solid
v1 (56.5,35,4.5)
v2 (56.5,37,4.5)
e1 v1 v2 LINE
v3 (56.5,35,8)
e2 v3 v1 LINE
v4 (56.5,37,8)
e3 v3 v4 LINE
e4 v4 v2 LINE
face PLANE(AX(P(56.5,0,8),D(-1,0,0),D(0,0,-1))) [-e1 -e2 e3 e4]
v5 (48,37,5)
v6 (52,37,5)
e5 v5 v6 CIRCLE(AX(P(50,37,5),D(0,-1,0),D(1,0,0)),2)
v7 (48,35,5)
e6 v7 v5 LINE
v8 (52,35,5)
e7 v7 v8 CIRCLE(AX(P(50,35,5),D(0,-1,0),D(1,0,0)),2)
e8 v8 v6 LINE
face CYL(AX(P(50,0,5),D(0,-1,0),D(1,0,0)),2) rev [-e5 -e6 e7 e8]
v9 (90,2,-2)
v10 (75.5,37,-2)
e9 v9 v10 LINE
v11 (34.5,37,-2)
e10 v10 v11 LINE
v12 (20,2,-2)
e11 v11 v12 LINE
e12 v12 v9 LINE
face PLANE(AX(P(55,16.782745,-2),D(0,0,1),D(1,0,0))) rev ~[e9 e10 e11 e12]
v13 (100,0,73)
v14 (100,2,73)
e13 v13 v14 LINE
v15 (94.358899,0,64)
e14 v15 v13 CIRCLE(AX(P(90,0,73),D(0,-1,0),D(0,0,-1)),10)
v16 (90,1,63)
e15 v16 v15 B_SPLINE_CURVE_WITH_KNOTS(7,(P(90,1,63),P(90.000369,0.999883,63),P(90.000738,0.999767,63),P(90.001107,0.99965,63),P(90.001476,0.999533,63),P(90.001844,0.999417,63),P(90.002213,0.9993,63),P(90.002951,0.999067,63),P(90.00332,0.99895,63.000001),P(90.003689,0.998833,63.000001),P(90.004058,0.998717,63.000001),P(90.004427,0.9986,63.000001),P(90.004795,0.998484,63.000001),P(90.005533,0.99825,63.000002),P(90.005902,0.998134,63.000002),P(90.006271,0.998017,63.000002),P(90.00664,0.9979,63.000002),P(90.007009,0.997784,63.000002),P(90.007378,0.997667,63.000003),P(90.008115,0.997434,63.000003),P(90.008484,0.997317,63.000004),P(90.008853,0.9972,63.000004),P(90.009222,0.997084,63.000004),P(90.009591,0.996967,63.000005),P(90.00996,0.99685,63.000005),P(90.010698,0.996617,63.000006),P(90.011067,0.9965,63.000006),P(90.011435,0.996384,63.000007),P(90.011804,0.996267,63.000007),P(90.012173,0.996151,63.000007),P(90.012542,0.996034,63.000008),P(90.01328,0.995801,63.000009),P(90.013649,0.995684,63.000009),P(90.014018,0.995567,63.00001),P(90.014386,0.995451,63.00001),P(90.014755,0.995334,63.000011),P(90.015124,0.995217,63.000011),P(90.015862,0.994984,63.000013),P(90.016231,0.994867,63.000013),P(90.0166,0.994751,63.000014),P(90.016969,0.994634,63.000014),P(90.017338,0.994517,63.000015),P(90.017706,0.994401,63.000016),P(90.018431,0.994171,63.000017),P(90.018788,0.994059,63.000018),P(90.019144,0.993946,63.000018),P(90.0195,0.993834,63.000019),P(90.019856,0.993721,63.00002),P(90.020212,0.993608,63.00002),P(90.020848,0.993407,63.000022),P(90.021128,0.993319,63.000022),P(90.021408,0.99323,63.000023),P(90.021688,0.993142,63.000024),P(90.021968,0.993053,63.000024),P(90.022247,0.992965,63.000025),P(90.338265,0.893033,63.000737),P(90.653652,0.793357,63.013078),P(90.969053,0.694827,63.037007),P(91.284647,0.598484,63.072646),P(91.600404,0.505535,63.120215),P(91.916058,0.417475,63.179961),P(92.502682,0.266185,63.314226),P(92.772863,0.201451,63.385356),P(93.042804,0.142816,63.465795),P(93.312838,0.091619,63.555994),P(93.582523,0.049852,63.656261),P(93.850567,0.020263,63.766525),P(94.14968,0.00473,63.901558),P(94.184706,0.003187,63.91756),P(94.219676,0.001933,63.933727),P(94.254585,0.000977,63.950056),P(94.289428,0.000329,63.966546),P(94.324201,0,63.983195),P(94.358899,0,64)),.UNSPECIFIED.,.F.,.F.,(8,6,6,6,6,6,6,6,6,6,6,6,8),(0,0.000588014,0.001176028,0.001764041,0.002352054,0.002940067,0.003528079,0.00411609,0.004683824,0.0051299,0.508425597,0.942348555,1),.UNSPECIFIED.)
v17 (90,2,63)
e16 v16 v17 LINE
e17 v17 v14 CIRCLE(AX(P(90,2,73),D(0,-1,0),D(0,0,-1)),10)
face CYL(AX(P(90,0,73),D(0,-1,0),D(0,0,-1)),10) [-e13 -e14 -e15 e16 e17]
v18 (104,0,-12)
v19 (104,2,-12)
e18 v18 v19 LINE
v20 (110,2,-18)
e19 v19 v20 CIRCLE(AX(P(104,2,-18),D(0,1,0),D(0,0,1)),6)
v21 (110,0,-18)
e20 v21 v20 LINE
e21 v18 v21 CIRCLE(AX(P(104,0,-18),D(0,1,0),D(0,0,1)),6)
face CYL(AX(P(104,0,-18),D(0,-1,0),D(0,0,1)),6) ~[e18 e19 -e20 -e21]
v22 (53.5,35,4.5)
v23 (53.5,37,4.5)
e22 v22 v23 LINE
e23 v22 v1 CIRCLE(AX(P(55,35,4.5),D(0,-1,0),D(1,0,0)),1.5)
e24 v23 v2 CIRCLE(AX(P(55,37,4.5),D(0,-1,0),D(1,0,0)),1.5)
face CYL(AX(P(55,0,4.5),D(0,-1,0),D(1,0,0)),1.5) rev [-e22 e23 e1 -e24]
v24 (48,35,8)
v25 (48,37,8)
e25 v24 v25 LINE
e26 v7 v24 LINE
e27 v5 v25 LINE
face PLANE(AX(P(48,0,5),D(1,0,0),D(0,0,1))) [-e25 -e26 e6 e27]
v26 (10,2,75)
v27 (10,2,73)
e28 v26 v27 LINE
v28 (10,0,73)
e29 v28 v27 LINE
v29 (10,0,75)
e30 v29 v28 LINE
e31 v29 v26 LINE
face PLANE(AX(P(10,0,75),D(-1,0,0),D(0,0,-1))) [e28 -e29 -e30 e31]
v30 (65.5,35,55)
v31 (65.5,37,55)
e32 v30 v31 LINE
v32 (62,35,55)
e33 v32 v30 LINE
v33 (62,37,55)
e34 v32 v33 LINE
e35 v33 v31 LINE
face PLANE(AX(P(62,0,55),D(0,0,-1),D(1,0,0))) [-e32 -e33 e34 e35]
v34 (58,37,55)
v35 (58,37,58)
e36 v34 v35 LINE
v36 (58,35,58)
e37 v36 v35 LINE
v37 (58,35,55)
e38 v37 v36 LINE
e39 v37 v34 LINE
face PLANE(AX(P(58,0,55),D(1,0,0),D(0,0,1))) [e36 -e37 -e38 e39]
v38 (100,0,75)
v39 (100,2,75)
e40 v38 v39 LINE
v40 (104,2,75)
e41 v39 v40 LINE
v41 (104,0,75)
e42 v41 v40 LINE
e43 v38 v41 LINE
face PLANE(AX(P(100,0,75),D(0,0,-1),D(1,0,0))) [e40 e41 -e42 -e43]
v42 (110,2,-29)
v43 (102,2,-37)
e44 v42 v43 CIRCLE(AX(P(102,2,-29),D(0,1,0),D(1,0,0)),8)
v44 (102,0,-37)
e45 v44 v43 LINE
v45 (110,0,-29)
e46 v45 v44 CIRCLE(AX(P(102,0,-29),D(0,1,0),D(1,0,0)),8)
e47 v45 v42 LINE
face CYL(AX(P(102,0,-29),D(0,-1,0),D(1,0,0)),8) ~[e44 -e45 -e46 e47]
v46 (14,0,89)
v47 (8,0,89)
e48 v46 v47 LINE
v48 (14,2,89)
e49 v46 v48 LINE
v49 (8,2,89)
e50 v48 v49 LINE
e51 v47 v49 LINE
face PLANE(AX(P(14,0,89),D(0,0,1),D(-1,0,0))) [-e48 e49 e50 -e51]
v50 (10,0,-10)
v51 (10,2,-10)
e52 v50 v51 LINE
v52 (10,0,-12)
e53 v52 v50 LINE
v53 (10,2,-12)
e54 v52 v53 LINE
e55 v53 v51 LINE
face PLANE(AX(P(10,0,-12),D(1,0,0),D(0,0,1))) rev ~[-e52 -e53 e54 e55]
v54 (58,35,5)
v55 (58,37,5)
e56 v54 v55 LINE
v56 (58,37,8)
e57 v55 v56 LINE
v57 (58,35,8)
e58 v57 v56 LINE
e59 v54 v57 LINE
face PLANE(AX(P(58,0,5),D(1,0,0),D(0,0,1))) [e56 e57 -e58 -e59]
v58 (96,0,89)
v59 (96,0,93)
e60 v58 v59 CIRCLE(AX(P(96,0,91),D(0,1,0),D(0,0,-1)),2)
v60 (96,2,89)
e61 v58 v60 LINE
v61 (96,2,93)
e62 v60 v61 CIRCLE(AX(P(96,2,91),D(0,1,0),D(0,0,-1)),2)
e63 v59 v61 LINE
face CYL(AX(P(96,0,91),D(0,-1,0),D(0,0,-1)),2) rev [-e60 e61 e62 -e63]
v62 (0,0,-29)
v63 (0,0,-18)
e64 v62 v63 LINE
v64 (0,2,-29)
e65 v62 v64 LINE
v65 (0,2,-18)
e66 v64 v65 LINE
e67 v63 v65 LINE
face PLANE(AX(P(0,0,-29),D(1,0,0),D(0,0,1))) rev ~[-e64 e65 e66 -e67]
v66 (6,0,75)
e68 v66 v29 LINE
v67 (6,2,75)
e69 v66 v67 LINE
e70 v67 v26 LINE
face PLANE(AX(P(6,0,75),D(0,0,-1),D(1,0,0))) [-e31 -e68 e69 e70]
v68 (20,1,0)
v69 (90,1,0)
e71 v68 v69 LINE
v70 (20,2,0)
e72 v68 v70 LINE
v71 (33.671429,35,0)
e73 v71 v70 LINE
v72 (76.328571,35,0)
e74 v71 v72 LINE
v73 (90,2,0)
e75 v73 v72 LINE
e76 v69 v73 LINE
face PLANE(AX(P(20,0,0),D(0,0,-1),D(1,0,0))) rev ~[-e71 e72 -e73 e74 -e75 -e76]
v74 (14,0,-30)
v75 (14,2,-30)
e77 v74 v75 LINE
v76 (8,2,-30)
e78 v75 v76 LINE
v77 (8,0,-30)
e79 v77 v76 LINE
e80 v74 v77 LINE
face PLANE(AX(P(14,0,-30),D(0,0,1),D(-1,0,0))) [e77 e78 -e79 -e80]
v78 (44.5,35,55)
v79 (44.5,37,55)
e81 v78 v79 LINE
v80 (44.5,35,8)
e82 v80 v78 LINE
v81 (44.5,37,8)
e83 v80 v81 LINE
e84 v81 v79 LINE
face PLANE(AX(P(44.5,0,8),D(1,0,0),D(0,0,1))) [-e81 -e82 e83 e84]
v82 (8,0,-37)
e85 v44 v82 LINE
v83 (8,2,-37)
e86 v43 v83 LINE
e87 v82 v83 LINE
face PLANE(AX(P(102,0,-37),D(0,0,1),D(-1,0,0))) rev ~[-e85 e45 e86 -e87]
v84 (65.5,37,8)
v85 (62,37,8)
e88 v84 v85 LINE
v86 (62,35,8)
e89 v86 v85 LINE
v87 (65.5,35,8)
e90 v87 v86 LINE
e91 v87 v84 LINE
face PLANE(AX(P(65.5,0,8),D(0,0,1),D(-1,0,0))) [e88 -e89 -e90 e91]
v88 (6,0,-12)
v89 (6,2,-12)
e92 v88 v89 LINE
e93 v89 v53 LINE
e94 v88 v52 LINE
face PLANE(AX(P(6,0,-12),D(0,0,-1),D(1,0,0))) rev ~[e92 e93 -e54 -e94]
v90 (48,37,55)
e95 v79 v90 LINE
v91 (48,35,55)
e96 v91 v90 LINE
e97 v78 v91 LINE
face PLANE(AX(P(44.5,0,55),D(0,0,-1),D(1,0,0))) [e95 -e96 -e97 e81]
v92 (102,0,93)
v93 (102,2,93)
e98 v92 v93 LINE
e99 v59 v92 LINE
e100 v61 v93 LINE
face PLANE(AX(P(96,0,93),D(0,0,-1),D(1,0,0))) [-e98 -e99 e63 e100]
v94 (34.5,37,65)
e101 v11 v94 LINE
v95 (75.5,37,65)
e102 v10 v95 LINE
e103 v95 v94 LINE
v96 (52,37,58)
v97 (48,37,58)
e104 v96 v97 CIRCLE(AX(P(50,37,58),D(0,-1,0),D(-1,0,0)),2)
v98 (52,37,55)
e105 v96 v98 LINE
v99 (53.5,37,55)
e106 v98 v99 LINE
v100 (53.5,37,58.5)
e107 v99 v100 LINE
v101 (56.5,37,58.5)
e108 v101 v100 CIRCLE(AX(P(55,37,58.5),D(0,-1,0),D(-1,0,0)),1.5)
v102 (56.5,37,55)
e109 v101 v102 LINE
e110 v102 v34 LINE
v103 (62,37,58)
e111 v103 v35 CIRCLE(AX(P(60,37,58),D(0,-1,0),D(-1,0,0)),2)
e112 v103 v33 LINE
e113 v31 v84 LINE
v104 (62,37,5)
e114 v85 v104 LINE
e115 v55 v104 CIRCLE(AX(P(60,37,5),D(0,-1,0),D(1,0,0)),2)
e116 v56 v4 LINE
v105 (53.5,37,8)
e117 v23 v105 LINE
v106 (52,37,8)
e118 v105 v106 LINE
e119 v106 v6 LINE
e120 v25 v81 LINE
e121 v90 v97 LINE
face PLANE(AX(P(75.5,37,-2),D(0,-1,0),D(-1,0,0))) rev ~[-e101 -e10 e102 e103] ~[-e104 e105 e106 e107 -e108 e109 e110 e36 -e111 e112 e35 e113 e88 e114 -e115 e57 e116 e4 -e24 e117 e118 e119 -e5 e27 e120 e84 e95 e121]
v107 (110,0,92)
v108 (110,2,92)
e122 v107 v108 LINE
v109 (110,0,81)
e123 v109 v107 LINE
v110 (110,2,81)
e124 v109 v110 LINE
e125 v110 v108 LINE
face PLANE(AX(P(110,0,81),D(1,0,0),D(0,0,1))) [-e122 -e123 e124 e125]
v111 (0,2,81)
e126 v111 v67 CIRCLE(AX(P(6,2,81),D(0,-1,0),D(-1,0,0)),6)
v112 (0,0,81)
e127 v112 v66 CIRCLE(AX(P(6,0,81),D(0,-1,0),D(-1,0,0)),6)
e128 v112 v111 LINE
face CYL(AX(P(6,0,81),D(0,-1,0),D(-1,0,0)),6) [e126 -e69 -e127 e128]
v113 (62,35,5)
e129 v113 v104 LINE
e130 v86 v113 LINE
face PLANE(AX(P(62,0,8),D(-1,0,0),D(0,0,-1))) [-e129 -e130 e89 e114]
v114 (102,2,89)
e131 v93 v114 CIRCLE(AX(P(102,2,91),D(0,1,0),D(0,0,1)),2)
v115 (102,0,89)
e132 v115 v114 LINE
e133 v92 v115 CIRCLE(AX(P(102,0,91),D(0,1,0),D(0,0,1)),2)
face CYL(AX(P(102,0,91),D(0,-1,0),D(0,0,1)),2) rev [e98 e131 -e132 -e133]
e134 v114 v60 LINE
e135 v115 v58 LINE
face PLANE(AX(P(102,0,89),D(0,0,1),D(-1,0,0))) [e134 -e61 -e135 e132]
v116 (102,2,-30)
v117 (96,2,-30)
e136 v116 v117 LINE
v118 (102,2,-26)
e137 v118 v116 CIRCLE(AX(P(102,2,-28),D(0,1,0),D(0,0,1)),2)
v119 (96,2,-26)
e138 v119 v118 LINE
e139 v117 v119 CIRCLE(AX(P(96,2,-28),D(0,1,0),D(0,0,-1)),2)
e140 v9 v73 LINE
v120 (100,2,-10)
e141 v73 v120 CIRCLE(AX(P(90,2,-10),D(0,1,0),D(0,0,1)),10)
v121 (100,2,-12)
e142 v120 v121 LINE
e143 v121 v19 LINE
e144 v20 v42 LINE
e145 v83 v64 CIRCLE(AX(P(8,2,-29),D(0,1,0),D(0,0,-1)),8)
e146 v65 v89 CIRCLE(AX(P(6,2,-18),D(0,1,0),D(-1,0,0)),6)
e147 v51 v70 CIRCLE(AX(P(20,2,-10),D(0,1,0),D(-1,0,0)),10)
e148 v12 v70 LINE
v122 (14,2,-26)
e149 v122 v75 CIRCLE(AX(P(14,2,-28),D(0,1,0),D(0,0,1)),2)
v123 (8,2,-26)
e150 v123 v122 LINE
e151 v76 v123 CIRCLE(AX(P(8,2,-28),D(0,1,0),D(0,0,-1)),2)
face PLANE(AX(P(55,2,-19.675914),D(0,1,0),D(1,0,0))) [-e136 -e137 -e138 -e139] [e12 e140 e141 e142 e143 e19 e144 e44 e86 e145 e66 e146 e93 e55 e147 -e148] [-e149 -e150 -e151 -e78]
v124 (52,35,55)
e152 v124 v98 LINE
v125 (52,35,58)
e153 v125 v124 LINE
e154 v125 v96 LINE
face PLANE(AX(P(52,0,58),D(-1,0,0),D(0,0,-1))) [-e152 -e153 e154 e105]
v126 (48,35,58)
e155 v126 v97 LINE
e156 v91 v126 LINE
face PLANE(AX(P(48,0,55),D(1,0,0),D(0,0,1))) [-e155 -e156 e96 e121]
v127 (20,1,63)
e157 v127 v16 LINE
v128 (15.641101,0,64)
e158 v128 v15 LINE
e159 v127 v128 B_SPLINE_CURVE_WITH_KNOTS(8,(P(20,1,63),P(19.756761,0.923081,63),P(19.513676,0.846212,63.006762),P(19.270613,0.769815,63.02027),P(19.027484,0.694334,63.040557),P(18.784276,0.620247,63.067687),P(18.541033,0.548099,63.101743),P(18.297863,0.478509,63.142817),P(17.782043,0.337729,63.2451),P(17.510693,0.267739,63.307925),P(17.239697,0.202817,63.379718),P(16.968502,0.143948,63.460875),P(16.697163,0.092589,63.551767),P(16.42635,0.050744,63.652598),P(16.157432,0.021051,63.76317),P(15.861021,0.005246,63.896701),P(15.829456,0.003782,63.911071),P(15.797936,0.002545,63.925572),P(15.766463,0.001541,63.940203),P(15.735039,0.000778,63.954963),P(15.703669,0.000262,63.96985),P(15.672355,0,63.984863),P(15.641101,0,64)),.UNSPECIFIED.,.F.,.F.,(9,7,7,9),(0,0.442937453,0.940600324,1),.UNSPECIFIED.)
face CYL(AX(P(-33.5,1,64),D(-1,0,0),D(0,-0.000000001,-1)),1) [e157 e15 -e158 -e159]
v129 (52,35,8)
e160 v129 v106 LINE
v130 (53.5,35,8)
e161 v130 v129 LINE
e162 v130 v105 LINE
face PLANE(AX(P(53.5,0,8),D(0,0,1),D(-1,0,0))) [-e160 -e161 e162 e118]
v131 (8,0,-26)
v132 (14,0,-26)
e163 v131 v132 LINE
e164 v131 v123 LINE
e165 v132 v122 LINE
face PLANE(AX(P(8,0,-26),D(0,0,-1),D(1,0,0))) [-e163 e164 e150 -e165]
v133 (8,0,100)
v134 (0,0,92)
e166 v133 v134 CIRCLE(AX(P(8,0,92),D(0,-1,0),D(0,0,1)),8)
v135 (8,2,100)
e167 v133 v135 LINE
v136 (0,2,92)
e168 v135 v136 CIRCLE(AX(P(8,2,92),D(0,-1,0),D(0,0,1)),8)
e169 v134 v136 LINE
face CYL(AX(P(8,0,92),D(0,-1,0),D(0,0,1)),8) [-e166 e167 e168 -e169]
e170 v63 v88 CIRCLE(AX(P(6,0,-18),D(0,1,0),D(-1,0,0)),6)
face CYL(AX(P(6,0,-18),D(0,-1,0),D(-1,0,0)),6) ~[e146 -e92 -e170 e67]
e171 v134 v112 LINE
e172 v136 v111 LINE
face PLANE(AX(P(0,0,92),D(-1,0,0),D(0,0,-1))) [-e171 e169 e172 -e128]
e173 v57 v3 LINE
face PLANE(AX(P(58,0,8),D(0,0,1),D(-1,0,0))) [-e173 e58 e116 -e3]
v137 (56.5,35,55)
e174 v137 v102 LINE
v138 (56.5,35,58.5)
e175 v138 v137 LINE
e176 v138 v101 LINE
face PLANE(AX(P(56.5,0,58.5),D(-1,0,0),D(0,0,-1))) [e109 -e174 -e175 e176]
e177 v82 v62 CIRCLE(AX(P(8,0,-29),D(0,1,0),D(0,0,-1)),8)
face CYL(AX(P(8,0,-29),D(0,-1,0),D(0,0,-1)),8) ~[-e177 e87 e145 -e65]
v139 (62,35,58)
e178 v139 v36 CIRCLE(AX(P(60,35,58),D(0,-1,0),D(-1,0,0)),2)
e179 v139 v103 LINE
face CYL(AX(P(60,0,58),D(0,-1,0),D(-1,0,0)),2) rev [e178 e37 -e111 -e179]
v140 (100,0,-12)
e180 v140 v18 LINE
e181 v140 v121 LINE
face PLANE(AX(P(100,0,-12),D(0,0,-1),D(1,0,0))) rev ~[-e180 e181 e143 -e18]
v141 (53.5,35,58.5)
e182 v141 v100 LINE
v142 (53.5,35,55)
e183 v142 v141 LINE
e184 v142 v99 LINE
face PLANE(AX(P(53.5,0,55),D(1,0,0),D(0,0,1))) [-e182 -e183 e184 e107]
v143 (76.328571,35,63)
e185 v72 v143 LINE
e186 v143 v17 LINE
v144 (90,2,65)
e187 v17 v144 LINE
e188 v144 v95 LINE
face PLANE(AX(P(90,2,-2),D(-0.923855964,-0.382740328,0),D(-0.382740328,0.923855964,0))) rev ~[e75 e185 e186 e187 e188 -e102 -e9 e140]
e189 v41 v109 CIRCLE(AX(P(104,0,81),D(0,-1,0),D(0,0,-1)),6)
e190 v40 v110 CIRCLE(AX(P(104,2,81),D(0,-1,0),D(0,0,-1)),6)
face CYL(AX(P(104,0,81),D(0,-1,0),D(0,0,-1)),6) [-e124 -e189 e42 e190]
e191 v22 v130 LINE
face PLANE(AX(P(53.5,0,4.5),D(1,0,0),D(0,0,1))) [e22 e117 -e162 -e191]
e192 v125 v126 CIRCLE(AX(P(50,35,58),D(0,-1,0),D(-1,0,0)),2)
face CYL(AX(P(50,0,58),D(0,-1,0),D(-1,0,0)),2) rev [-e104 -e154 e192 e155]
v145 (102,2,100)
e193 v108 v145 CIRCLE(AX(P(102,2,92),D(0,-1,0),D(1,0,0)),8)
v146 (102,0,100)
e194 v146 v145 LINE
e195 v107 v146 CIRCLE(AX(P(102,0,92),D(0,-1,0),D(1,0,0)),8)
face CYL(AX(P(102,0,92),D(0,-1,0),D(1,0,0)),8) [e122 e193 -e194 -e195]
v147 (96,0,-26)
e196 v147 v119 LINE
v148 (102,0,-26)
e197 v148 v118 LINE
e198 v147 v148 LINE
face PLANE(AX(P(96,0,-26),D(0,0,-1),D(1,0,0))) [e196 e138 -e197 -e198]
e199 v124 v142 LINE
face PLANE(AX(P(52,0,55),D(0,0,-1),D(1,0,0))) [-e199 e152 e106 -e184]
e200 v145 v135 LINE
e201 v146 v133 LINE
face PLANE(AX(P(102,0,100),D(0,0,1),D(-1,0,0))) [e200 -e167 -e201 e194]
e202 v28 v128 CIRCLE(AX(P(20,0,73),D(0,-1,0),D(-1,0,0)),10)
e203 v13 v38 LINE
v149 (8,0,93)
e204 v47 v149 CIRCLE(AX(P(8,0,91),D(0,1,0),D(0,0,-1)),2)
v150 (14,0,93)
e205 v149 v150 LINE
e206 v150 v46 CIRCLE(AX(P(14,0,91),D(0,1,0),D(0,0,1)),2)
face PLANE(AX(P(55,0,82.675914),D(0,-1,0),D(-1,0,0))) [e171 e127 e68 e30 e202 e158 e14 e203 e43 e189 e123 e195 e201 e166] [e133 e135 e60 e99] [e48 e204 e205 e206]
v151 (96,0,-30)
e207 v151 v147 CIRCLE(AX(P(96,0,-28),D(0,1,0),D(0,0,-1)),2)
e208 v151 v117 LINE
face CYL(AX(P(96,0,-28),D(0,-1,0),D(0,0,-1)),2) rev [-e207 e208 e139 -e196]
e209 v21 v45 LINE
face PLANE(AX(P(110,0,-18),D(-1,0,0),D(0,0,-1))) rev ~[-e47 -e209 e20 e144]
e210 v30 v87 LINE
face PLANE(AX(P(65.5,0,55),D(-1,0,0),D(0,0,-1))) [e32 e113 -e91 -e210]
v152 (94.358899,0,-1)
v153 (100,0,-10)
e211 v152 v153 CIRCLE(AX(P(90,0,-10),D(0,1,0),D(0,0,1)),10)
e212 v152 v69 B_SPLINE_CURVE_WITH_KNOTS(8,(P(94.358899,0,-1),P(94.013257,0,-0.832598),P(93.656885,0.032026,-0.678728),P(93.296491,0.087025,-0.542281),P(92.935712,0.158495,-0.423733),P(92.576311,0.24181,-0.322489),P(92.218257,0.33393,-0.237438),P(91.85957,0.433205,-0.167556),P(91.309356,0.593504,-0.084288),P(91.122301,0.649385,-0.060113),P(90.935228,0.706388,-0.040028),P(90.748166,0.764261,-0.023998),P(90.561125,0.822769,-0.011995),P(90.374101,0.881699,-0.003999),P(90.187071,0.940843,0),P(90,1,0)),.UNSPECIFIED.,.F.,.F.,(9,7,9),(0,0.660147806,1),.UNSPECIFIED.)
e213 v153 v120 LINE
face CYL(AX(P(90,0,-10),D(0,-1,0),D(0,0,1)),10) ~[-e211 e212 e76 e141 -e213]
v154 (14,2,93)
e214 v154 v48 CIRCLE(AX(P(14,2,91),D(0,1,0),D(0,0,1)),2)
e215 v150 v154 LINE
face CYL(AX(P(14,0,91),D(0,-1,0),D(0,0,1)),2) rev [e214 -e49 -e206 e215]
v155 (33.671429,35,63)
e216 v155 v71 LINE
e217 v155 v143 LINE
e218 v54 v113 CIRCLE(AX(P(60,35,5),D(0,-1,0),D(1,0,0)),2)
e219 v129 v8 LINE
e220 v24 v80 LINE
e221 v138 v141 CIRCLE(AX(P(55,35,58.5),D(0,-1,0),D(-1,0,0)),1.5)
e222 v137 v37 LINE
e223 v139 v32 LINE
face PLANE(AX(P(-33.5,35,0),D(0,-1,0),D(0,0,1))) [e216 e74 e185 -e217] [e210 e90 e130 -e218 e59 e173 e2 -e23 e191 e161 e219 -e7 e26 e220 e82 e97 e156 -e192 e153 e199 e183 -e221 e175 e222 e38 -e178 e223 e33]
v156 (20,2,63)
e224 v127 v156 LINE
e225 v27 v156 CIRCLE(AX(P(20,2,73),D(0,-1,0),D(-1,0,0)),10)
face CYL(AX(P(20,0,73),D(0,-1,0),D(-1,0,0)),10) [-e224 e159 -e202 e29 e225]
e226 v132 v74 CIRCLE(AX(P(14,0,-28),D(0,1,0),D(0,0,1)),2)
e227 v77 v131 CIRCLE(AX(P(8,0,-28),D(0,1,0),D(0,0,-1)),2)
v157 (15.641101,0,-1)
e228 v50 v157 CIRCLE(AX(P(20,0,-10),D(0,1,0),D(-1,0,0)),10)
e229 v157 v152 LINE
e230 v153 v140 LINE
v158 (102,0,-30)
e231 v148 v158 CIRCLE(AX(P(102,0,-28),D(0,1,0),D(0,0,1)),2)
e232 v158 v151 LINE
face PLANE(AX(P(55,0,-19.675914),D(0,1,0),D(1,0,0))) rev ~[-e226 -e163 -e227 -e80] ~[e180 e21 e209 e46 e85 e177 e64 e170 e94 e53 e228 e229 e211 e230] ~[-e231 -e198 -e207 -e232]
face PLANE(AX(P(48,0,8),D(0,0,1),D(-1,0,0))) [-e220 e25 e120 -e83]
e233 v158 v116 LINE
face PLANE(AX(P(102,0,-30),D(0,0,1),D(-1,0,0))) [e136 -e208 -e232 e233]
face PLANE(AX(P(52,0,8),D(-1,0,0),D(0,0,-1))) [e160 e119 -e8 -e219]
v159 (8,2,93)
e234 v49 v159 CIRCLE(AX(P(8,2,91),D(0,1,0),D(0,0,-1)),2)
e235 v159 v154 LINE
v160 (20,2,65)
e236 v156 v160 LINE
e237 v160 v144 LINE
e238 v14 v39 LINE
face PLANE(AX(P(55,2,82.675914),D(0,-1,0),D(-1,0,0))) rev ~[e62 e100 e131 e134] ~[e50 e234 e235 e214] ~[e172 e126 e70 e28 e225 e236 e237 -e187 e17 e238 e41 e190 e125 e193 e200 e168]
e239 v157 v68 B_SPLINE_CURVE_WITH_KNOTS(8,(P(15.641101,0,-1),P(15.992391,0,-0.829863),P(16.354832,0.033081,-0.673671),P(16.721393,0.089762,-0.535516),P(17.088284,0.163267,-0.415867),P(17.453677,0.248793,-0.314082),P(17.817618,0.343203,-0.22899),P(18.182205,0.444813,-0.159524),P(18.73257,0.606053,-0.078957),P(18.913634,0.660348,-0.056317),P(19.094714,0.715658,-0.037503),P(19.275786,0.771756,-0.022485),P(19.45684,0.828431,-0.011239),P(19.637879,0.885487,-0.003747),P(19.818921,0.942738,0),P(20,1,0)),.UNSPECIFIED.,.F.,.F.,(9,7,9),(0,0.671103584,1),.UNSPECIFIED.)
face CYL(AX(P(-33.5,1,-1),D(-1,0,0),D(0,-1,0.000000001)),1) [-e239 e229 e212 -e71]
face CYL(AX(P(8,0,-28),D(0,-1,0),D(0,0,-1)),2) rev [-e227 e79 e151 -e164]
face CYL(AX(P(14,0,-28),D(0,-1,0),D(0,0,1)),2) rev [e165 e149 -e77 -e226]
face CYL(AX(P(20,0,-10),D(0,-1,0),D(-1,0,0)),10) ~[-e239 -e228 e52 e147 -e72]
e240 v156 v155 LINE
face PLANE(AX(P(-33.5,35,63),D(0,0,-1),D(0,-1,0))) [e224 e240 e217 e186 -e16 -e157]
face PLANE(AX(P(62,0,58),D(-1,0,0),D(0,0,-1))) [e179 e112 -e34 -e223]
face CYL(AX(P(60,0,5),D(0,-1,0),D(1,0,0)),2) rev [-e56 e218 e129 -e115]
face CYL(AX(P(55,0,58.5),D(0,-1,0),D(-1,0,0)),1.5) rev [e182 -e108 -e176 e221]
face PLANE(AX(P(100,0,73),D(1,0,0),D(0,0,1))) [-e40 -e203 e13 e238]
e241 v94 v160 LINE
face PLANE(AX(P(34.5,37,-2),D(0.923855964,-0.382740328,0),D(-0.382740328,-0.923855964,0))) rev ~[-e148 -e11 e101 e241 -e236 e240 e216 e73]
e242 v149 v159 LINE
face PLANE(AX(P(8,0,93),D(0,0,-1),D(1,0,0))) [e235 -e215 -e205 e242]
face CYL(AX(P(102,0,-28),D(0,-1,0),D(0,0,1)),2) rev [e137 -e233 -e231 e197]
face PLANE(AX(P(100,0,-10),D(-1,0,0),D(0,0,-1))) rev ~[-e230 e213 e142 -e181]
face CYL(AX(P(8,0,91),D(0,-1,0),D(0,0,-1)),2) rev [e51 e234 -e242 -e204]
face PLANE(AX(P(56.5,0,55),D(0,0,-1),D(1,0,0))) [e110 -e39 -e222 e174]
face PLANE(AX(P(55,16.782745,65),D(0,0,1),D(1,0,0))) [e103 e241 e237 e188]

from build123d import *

# Parameters (mm, degrees)
EXTRUDE_1_DEPTH          = 2
EXTRUDE_1_2_DEPTH        = 2
EXTRUDE_3_DEPTH          = 33.5
EXTRUDE_3_DEPTH_BACK     = 33.5
CUT_EXTRUDE_3_DEPTH      = 154.195952949
CUT_EXTRUDE_3_DEPTH_BACK = 33.5
CUT_EXTRUDE_6_DEPTH      = 154.195952949


with BuildPart() as part:
    # 草图1 → 凸台-拉伸1 (new body)
    with BuildSketch(Plane(origin=(0, 0, 0), x_dir=(1, 0, 0), z_dir=(0, 1, 0))):
        with BuildLine():
            Line((0, 29), (0, 18))
            ThreePointArc((0, 18), (1.757359313, 13.757359313), (6, 12))
            Line((6, 12), (10, 12))
            Line((10, 12), (10, 10))
            ThreePointArc((10, 10), (12.928932188, 2.928932188), (20, 0))
            Line((20, 0), (90, 0))
            ThreePointArc((90, 0), (97.071067812, 2.928932188), (100, 10))
            Line((100, 10), (100, 12))
            Line((100, 12), (104, 12))
            ThreePointArc((104, 12), (108.242640687, 13.757359313), (110, 18))
            Line((110, 18), (110, 29))
            ThreePointArc((110, 29), (107.656854249, 34.656854249), (102, 37))
            Line((102, 37), (8, 37))
            ThreePointArc((8, 37), (2.343145751, 34.656854249), (0, 29))
        make_face()
        with BuildLine():
            Line((102, 30), (96, 30))
            ThreePointArc((96, 30), (94, 28), (96, 26))
            Line((96, 26), (102, 26))
            ThreePointArc((102, 26), (104, 28), (102, 30))
        make_face(mode=Mode.SUBTRACT)
        with BuildLine():
            Line((8, 26), (14, 26))
            ThreePointArc((14, 26), (16, 28), (14, 30))
            Line((14, 30), (8, 30))
            ThreePointArc((8, 30), (6, 28), (8, 26))
        make_face(mode=Mode.SUBTRACT)
    extrude(amount=EXTRUDE_1_DEPTH)



with BuildPart() as body_2:
    # 草图1 → Extrude 1 2 (new body)
    with BuildSketch(Plane(origin=(0, 0, 0), x_dir=(1, 0, 0), z_dir=(0, 1, 0))):
        with BuildLine():
            Line((100, -75), (104, -75))
            ThreePointArc((104, -75), (108.242640687, -76.757359313), (110, -81))
            Line((110, -81), (110, -92))
            ThreePointArc((110, -92), (107.656854249, -97.656854249), (102, -100))
            Line((102, -100), (8, -100))
            ThreePointArc((8, -100), (2.343145751, -97.656854249), (0, -92))
            Line((0, -92), (0, -81))
            ThreePointArc((0, -81), (1.757359313, -76.757359313), (6, -75))
            Line((6, -75), (10, -75))
            Line((10, -75), (10, -73))
            ThreePointArc((10, -73), (12.928932188, -65.928932188), (20, -63))
            Line((20, -63), (90, -63))
            ThreePointArc((90, -63), (97.071067812, -65.928932188), (100, -73))
            Line((100, -73), (100, -75))
        make_face()
        with BuildLine():
            Line((8, -93), (14, -93))
            ThreePointArc((14, -93), (16, -91), (14, -89))
            Line((14, -89), (8, -89))
            ThreePointArc((8, -89), (6, -91), (8, -93))
        make_face(mode=Mode.SUBTRACT)
        with BuildLine():
            Line((102, -89), (96, -89))
            ThreePointArc((96, -89), (94, -91), (96, -93))
            Line((96, -93), (102, -93))
            ThreePointArc((102, -93), (104, -91), (102, -89))
        make_face(mode=Mode.SUBTRACT)
    extrude(amount=EXTRUDE_1_2_DEPTH)


with BuildPart() as part_1:
    add(part.part)

    add(body_2.part)  # 凸台-拉伸3 merges body 2
    # 草图2 → 凸台-拉伸3 (add, two sides: drawn at the far end of the back side and taken through both)
    with BuildSketch(Plane.XY.offset(31.5).offset(-EXTRUDE_3_DEPTH_BACK)):
        Polygon((20, 2), (90, 2), (75.5, 37), (55, 37), (34.5, 37), align=None)
    extrude(amount=EXTRUDE_3_DEPTH + EXTRUDE_3_DEPTH_BACK)

    # 草图3 → 切除-拉伸3 (cut, two sides: drawn at the far end of the back side and taken through both)
    with BuildSketch(Plane(origin=(0, 0, 0), x_dir=(0, 0, -1), z_dir=(1, 0, 0)).offset(-CUT_EXTRUDE_3_DEPTH_BACK)):
        with BuildLine():
            Line((-63, 2), (-63, 1))
            ThreePointArc((-63, 1), (-63.292893219, 0.292893219), (-64, 0))
            Line((-64, 0), (1, 0))
            ThreePointArc((1, 0), (0.292893219, 0.292893219), (0, 1))
            Line((0, 1), (0, 2))
            Line((0, 2), (0, 35))
            Line((0, 35), (-63, 35))
            Line((-63, 35), (-63, 2))
        make_face()
    extrude(amount=CUT_EXTRUDE_3_DEPTH + CUT_EXTRUDE_3_DEPTH_BACK, mode=Mode.SUBTRACT)

    # 草图4 → 切除-拉伸6 (cut, through all)
    with BuildSketch(Plane(origin=(0, 0, 0), x_dir=(1, 0, 0), z_dir=(0, 1, 0))):
        with BuildLine():
            Line((48, -8), (44.5, -8))
            Line((44.5, -8), (44.5, -55))
            Line((44.5, -55), (48, -55))
            Line((48, -55), (48, -58))
            ThreePointArc((48, -58), (50, -60), (52, -58))
            Line((52, -58), (52, -55))
            Line((52, -55), (53.5, -55))
            Line((53.5, -55), (53.5, -58.5))
            ThreePointArc((53.5, -58.5), (55, -60), (56.5, -58.5))
            Line((56.5, -58.5), (56.5, -55))
            Line((56.5, -55), (58, -55))
            Line((58, -55), (58, -58))
            ThreePointArc((58, -58), (60, -60), (62, -58))
            Line((62, -58), (62, -55))
            Line((62, -55), (65.5, -55))
            Line((65.5, -55), (65.5, -8))
            Line((65.5, -8), (62, -8))
            Line((62, -8), (62, -5))
            ThreePointArc((62, -5), (60, -3), (58, -5))
            Line((58, -5), (58, -8))
            Line((58, -8), (56.5, -8))
            Line((56.5, -8), (56.5, -4.5))
            ThreePointArc((56.5, -4.5), (55, -3), (53.5, -4.5))
            Line((53.5, -4.5), (53.5, -8))
            Line((53.5, -8), (52, -8))
            Line((52, -8), (52, -5))
            ThreePointArc((52, -5), (50, -3), (48, -5))
            Line((48, -5), (48, -8))
        make_face()
    extrude(amount=CUT_EXTRUDE_6_DEPTH, mode=Mode.SUBTRACT)


solid = part_1.part
